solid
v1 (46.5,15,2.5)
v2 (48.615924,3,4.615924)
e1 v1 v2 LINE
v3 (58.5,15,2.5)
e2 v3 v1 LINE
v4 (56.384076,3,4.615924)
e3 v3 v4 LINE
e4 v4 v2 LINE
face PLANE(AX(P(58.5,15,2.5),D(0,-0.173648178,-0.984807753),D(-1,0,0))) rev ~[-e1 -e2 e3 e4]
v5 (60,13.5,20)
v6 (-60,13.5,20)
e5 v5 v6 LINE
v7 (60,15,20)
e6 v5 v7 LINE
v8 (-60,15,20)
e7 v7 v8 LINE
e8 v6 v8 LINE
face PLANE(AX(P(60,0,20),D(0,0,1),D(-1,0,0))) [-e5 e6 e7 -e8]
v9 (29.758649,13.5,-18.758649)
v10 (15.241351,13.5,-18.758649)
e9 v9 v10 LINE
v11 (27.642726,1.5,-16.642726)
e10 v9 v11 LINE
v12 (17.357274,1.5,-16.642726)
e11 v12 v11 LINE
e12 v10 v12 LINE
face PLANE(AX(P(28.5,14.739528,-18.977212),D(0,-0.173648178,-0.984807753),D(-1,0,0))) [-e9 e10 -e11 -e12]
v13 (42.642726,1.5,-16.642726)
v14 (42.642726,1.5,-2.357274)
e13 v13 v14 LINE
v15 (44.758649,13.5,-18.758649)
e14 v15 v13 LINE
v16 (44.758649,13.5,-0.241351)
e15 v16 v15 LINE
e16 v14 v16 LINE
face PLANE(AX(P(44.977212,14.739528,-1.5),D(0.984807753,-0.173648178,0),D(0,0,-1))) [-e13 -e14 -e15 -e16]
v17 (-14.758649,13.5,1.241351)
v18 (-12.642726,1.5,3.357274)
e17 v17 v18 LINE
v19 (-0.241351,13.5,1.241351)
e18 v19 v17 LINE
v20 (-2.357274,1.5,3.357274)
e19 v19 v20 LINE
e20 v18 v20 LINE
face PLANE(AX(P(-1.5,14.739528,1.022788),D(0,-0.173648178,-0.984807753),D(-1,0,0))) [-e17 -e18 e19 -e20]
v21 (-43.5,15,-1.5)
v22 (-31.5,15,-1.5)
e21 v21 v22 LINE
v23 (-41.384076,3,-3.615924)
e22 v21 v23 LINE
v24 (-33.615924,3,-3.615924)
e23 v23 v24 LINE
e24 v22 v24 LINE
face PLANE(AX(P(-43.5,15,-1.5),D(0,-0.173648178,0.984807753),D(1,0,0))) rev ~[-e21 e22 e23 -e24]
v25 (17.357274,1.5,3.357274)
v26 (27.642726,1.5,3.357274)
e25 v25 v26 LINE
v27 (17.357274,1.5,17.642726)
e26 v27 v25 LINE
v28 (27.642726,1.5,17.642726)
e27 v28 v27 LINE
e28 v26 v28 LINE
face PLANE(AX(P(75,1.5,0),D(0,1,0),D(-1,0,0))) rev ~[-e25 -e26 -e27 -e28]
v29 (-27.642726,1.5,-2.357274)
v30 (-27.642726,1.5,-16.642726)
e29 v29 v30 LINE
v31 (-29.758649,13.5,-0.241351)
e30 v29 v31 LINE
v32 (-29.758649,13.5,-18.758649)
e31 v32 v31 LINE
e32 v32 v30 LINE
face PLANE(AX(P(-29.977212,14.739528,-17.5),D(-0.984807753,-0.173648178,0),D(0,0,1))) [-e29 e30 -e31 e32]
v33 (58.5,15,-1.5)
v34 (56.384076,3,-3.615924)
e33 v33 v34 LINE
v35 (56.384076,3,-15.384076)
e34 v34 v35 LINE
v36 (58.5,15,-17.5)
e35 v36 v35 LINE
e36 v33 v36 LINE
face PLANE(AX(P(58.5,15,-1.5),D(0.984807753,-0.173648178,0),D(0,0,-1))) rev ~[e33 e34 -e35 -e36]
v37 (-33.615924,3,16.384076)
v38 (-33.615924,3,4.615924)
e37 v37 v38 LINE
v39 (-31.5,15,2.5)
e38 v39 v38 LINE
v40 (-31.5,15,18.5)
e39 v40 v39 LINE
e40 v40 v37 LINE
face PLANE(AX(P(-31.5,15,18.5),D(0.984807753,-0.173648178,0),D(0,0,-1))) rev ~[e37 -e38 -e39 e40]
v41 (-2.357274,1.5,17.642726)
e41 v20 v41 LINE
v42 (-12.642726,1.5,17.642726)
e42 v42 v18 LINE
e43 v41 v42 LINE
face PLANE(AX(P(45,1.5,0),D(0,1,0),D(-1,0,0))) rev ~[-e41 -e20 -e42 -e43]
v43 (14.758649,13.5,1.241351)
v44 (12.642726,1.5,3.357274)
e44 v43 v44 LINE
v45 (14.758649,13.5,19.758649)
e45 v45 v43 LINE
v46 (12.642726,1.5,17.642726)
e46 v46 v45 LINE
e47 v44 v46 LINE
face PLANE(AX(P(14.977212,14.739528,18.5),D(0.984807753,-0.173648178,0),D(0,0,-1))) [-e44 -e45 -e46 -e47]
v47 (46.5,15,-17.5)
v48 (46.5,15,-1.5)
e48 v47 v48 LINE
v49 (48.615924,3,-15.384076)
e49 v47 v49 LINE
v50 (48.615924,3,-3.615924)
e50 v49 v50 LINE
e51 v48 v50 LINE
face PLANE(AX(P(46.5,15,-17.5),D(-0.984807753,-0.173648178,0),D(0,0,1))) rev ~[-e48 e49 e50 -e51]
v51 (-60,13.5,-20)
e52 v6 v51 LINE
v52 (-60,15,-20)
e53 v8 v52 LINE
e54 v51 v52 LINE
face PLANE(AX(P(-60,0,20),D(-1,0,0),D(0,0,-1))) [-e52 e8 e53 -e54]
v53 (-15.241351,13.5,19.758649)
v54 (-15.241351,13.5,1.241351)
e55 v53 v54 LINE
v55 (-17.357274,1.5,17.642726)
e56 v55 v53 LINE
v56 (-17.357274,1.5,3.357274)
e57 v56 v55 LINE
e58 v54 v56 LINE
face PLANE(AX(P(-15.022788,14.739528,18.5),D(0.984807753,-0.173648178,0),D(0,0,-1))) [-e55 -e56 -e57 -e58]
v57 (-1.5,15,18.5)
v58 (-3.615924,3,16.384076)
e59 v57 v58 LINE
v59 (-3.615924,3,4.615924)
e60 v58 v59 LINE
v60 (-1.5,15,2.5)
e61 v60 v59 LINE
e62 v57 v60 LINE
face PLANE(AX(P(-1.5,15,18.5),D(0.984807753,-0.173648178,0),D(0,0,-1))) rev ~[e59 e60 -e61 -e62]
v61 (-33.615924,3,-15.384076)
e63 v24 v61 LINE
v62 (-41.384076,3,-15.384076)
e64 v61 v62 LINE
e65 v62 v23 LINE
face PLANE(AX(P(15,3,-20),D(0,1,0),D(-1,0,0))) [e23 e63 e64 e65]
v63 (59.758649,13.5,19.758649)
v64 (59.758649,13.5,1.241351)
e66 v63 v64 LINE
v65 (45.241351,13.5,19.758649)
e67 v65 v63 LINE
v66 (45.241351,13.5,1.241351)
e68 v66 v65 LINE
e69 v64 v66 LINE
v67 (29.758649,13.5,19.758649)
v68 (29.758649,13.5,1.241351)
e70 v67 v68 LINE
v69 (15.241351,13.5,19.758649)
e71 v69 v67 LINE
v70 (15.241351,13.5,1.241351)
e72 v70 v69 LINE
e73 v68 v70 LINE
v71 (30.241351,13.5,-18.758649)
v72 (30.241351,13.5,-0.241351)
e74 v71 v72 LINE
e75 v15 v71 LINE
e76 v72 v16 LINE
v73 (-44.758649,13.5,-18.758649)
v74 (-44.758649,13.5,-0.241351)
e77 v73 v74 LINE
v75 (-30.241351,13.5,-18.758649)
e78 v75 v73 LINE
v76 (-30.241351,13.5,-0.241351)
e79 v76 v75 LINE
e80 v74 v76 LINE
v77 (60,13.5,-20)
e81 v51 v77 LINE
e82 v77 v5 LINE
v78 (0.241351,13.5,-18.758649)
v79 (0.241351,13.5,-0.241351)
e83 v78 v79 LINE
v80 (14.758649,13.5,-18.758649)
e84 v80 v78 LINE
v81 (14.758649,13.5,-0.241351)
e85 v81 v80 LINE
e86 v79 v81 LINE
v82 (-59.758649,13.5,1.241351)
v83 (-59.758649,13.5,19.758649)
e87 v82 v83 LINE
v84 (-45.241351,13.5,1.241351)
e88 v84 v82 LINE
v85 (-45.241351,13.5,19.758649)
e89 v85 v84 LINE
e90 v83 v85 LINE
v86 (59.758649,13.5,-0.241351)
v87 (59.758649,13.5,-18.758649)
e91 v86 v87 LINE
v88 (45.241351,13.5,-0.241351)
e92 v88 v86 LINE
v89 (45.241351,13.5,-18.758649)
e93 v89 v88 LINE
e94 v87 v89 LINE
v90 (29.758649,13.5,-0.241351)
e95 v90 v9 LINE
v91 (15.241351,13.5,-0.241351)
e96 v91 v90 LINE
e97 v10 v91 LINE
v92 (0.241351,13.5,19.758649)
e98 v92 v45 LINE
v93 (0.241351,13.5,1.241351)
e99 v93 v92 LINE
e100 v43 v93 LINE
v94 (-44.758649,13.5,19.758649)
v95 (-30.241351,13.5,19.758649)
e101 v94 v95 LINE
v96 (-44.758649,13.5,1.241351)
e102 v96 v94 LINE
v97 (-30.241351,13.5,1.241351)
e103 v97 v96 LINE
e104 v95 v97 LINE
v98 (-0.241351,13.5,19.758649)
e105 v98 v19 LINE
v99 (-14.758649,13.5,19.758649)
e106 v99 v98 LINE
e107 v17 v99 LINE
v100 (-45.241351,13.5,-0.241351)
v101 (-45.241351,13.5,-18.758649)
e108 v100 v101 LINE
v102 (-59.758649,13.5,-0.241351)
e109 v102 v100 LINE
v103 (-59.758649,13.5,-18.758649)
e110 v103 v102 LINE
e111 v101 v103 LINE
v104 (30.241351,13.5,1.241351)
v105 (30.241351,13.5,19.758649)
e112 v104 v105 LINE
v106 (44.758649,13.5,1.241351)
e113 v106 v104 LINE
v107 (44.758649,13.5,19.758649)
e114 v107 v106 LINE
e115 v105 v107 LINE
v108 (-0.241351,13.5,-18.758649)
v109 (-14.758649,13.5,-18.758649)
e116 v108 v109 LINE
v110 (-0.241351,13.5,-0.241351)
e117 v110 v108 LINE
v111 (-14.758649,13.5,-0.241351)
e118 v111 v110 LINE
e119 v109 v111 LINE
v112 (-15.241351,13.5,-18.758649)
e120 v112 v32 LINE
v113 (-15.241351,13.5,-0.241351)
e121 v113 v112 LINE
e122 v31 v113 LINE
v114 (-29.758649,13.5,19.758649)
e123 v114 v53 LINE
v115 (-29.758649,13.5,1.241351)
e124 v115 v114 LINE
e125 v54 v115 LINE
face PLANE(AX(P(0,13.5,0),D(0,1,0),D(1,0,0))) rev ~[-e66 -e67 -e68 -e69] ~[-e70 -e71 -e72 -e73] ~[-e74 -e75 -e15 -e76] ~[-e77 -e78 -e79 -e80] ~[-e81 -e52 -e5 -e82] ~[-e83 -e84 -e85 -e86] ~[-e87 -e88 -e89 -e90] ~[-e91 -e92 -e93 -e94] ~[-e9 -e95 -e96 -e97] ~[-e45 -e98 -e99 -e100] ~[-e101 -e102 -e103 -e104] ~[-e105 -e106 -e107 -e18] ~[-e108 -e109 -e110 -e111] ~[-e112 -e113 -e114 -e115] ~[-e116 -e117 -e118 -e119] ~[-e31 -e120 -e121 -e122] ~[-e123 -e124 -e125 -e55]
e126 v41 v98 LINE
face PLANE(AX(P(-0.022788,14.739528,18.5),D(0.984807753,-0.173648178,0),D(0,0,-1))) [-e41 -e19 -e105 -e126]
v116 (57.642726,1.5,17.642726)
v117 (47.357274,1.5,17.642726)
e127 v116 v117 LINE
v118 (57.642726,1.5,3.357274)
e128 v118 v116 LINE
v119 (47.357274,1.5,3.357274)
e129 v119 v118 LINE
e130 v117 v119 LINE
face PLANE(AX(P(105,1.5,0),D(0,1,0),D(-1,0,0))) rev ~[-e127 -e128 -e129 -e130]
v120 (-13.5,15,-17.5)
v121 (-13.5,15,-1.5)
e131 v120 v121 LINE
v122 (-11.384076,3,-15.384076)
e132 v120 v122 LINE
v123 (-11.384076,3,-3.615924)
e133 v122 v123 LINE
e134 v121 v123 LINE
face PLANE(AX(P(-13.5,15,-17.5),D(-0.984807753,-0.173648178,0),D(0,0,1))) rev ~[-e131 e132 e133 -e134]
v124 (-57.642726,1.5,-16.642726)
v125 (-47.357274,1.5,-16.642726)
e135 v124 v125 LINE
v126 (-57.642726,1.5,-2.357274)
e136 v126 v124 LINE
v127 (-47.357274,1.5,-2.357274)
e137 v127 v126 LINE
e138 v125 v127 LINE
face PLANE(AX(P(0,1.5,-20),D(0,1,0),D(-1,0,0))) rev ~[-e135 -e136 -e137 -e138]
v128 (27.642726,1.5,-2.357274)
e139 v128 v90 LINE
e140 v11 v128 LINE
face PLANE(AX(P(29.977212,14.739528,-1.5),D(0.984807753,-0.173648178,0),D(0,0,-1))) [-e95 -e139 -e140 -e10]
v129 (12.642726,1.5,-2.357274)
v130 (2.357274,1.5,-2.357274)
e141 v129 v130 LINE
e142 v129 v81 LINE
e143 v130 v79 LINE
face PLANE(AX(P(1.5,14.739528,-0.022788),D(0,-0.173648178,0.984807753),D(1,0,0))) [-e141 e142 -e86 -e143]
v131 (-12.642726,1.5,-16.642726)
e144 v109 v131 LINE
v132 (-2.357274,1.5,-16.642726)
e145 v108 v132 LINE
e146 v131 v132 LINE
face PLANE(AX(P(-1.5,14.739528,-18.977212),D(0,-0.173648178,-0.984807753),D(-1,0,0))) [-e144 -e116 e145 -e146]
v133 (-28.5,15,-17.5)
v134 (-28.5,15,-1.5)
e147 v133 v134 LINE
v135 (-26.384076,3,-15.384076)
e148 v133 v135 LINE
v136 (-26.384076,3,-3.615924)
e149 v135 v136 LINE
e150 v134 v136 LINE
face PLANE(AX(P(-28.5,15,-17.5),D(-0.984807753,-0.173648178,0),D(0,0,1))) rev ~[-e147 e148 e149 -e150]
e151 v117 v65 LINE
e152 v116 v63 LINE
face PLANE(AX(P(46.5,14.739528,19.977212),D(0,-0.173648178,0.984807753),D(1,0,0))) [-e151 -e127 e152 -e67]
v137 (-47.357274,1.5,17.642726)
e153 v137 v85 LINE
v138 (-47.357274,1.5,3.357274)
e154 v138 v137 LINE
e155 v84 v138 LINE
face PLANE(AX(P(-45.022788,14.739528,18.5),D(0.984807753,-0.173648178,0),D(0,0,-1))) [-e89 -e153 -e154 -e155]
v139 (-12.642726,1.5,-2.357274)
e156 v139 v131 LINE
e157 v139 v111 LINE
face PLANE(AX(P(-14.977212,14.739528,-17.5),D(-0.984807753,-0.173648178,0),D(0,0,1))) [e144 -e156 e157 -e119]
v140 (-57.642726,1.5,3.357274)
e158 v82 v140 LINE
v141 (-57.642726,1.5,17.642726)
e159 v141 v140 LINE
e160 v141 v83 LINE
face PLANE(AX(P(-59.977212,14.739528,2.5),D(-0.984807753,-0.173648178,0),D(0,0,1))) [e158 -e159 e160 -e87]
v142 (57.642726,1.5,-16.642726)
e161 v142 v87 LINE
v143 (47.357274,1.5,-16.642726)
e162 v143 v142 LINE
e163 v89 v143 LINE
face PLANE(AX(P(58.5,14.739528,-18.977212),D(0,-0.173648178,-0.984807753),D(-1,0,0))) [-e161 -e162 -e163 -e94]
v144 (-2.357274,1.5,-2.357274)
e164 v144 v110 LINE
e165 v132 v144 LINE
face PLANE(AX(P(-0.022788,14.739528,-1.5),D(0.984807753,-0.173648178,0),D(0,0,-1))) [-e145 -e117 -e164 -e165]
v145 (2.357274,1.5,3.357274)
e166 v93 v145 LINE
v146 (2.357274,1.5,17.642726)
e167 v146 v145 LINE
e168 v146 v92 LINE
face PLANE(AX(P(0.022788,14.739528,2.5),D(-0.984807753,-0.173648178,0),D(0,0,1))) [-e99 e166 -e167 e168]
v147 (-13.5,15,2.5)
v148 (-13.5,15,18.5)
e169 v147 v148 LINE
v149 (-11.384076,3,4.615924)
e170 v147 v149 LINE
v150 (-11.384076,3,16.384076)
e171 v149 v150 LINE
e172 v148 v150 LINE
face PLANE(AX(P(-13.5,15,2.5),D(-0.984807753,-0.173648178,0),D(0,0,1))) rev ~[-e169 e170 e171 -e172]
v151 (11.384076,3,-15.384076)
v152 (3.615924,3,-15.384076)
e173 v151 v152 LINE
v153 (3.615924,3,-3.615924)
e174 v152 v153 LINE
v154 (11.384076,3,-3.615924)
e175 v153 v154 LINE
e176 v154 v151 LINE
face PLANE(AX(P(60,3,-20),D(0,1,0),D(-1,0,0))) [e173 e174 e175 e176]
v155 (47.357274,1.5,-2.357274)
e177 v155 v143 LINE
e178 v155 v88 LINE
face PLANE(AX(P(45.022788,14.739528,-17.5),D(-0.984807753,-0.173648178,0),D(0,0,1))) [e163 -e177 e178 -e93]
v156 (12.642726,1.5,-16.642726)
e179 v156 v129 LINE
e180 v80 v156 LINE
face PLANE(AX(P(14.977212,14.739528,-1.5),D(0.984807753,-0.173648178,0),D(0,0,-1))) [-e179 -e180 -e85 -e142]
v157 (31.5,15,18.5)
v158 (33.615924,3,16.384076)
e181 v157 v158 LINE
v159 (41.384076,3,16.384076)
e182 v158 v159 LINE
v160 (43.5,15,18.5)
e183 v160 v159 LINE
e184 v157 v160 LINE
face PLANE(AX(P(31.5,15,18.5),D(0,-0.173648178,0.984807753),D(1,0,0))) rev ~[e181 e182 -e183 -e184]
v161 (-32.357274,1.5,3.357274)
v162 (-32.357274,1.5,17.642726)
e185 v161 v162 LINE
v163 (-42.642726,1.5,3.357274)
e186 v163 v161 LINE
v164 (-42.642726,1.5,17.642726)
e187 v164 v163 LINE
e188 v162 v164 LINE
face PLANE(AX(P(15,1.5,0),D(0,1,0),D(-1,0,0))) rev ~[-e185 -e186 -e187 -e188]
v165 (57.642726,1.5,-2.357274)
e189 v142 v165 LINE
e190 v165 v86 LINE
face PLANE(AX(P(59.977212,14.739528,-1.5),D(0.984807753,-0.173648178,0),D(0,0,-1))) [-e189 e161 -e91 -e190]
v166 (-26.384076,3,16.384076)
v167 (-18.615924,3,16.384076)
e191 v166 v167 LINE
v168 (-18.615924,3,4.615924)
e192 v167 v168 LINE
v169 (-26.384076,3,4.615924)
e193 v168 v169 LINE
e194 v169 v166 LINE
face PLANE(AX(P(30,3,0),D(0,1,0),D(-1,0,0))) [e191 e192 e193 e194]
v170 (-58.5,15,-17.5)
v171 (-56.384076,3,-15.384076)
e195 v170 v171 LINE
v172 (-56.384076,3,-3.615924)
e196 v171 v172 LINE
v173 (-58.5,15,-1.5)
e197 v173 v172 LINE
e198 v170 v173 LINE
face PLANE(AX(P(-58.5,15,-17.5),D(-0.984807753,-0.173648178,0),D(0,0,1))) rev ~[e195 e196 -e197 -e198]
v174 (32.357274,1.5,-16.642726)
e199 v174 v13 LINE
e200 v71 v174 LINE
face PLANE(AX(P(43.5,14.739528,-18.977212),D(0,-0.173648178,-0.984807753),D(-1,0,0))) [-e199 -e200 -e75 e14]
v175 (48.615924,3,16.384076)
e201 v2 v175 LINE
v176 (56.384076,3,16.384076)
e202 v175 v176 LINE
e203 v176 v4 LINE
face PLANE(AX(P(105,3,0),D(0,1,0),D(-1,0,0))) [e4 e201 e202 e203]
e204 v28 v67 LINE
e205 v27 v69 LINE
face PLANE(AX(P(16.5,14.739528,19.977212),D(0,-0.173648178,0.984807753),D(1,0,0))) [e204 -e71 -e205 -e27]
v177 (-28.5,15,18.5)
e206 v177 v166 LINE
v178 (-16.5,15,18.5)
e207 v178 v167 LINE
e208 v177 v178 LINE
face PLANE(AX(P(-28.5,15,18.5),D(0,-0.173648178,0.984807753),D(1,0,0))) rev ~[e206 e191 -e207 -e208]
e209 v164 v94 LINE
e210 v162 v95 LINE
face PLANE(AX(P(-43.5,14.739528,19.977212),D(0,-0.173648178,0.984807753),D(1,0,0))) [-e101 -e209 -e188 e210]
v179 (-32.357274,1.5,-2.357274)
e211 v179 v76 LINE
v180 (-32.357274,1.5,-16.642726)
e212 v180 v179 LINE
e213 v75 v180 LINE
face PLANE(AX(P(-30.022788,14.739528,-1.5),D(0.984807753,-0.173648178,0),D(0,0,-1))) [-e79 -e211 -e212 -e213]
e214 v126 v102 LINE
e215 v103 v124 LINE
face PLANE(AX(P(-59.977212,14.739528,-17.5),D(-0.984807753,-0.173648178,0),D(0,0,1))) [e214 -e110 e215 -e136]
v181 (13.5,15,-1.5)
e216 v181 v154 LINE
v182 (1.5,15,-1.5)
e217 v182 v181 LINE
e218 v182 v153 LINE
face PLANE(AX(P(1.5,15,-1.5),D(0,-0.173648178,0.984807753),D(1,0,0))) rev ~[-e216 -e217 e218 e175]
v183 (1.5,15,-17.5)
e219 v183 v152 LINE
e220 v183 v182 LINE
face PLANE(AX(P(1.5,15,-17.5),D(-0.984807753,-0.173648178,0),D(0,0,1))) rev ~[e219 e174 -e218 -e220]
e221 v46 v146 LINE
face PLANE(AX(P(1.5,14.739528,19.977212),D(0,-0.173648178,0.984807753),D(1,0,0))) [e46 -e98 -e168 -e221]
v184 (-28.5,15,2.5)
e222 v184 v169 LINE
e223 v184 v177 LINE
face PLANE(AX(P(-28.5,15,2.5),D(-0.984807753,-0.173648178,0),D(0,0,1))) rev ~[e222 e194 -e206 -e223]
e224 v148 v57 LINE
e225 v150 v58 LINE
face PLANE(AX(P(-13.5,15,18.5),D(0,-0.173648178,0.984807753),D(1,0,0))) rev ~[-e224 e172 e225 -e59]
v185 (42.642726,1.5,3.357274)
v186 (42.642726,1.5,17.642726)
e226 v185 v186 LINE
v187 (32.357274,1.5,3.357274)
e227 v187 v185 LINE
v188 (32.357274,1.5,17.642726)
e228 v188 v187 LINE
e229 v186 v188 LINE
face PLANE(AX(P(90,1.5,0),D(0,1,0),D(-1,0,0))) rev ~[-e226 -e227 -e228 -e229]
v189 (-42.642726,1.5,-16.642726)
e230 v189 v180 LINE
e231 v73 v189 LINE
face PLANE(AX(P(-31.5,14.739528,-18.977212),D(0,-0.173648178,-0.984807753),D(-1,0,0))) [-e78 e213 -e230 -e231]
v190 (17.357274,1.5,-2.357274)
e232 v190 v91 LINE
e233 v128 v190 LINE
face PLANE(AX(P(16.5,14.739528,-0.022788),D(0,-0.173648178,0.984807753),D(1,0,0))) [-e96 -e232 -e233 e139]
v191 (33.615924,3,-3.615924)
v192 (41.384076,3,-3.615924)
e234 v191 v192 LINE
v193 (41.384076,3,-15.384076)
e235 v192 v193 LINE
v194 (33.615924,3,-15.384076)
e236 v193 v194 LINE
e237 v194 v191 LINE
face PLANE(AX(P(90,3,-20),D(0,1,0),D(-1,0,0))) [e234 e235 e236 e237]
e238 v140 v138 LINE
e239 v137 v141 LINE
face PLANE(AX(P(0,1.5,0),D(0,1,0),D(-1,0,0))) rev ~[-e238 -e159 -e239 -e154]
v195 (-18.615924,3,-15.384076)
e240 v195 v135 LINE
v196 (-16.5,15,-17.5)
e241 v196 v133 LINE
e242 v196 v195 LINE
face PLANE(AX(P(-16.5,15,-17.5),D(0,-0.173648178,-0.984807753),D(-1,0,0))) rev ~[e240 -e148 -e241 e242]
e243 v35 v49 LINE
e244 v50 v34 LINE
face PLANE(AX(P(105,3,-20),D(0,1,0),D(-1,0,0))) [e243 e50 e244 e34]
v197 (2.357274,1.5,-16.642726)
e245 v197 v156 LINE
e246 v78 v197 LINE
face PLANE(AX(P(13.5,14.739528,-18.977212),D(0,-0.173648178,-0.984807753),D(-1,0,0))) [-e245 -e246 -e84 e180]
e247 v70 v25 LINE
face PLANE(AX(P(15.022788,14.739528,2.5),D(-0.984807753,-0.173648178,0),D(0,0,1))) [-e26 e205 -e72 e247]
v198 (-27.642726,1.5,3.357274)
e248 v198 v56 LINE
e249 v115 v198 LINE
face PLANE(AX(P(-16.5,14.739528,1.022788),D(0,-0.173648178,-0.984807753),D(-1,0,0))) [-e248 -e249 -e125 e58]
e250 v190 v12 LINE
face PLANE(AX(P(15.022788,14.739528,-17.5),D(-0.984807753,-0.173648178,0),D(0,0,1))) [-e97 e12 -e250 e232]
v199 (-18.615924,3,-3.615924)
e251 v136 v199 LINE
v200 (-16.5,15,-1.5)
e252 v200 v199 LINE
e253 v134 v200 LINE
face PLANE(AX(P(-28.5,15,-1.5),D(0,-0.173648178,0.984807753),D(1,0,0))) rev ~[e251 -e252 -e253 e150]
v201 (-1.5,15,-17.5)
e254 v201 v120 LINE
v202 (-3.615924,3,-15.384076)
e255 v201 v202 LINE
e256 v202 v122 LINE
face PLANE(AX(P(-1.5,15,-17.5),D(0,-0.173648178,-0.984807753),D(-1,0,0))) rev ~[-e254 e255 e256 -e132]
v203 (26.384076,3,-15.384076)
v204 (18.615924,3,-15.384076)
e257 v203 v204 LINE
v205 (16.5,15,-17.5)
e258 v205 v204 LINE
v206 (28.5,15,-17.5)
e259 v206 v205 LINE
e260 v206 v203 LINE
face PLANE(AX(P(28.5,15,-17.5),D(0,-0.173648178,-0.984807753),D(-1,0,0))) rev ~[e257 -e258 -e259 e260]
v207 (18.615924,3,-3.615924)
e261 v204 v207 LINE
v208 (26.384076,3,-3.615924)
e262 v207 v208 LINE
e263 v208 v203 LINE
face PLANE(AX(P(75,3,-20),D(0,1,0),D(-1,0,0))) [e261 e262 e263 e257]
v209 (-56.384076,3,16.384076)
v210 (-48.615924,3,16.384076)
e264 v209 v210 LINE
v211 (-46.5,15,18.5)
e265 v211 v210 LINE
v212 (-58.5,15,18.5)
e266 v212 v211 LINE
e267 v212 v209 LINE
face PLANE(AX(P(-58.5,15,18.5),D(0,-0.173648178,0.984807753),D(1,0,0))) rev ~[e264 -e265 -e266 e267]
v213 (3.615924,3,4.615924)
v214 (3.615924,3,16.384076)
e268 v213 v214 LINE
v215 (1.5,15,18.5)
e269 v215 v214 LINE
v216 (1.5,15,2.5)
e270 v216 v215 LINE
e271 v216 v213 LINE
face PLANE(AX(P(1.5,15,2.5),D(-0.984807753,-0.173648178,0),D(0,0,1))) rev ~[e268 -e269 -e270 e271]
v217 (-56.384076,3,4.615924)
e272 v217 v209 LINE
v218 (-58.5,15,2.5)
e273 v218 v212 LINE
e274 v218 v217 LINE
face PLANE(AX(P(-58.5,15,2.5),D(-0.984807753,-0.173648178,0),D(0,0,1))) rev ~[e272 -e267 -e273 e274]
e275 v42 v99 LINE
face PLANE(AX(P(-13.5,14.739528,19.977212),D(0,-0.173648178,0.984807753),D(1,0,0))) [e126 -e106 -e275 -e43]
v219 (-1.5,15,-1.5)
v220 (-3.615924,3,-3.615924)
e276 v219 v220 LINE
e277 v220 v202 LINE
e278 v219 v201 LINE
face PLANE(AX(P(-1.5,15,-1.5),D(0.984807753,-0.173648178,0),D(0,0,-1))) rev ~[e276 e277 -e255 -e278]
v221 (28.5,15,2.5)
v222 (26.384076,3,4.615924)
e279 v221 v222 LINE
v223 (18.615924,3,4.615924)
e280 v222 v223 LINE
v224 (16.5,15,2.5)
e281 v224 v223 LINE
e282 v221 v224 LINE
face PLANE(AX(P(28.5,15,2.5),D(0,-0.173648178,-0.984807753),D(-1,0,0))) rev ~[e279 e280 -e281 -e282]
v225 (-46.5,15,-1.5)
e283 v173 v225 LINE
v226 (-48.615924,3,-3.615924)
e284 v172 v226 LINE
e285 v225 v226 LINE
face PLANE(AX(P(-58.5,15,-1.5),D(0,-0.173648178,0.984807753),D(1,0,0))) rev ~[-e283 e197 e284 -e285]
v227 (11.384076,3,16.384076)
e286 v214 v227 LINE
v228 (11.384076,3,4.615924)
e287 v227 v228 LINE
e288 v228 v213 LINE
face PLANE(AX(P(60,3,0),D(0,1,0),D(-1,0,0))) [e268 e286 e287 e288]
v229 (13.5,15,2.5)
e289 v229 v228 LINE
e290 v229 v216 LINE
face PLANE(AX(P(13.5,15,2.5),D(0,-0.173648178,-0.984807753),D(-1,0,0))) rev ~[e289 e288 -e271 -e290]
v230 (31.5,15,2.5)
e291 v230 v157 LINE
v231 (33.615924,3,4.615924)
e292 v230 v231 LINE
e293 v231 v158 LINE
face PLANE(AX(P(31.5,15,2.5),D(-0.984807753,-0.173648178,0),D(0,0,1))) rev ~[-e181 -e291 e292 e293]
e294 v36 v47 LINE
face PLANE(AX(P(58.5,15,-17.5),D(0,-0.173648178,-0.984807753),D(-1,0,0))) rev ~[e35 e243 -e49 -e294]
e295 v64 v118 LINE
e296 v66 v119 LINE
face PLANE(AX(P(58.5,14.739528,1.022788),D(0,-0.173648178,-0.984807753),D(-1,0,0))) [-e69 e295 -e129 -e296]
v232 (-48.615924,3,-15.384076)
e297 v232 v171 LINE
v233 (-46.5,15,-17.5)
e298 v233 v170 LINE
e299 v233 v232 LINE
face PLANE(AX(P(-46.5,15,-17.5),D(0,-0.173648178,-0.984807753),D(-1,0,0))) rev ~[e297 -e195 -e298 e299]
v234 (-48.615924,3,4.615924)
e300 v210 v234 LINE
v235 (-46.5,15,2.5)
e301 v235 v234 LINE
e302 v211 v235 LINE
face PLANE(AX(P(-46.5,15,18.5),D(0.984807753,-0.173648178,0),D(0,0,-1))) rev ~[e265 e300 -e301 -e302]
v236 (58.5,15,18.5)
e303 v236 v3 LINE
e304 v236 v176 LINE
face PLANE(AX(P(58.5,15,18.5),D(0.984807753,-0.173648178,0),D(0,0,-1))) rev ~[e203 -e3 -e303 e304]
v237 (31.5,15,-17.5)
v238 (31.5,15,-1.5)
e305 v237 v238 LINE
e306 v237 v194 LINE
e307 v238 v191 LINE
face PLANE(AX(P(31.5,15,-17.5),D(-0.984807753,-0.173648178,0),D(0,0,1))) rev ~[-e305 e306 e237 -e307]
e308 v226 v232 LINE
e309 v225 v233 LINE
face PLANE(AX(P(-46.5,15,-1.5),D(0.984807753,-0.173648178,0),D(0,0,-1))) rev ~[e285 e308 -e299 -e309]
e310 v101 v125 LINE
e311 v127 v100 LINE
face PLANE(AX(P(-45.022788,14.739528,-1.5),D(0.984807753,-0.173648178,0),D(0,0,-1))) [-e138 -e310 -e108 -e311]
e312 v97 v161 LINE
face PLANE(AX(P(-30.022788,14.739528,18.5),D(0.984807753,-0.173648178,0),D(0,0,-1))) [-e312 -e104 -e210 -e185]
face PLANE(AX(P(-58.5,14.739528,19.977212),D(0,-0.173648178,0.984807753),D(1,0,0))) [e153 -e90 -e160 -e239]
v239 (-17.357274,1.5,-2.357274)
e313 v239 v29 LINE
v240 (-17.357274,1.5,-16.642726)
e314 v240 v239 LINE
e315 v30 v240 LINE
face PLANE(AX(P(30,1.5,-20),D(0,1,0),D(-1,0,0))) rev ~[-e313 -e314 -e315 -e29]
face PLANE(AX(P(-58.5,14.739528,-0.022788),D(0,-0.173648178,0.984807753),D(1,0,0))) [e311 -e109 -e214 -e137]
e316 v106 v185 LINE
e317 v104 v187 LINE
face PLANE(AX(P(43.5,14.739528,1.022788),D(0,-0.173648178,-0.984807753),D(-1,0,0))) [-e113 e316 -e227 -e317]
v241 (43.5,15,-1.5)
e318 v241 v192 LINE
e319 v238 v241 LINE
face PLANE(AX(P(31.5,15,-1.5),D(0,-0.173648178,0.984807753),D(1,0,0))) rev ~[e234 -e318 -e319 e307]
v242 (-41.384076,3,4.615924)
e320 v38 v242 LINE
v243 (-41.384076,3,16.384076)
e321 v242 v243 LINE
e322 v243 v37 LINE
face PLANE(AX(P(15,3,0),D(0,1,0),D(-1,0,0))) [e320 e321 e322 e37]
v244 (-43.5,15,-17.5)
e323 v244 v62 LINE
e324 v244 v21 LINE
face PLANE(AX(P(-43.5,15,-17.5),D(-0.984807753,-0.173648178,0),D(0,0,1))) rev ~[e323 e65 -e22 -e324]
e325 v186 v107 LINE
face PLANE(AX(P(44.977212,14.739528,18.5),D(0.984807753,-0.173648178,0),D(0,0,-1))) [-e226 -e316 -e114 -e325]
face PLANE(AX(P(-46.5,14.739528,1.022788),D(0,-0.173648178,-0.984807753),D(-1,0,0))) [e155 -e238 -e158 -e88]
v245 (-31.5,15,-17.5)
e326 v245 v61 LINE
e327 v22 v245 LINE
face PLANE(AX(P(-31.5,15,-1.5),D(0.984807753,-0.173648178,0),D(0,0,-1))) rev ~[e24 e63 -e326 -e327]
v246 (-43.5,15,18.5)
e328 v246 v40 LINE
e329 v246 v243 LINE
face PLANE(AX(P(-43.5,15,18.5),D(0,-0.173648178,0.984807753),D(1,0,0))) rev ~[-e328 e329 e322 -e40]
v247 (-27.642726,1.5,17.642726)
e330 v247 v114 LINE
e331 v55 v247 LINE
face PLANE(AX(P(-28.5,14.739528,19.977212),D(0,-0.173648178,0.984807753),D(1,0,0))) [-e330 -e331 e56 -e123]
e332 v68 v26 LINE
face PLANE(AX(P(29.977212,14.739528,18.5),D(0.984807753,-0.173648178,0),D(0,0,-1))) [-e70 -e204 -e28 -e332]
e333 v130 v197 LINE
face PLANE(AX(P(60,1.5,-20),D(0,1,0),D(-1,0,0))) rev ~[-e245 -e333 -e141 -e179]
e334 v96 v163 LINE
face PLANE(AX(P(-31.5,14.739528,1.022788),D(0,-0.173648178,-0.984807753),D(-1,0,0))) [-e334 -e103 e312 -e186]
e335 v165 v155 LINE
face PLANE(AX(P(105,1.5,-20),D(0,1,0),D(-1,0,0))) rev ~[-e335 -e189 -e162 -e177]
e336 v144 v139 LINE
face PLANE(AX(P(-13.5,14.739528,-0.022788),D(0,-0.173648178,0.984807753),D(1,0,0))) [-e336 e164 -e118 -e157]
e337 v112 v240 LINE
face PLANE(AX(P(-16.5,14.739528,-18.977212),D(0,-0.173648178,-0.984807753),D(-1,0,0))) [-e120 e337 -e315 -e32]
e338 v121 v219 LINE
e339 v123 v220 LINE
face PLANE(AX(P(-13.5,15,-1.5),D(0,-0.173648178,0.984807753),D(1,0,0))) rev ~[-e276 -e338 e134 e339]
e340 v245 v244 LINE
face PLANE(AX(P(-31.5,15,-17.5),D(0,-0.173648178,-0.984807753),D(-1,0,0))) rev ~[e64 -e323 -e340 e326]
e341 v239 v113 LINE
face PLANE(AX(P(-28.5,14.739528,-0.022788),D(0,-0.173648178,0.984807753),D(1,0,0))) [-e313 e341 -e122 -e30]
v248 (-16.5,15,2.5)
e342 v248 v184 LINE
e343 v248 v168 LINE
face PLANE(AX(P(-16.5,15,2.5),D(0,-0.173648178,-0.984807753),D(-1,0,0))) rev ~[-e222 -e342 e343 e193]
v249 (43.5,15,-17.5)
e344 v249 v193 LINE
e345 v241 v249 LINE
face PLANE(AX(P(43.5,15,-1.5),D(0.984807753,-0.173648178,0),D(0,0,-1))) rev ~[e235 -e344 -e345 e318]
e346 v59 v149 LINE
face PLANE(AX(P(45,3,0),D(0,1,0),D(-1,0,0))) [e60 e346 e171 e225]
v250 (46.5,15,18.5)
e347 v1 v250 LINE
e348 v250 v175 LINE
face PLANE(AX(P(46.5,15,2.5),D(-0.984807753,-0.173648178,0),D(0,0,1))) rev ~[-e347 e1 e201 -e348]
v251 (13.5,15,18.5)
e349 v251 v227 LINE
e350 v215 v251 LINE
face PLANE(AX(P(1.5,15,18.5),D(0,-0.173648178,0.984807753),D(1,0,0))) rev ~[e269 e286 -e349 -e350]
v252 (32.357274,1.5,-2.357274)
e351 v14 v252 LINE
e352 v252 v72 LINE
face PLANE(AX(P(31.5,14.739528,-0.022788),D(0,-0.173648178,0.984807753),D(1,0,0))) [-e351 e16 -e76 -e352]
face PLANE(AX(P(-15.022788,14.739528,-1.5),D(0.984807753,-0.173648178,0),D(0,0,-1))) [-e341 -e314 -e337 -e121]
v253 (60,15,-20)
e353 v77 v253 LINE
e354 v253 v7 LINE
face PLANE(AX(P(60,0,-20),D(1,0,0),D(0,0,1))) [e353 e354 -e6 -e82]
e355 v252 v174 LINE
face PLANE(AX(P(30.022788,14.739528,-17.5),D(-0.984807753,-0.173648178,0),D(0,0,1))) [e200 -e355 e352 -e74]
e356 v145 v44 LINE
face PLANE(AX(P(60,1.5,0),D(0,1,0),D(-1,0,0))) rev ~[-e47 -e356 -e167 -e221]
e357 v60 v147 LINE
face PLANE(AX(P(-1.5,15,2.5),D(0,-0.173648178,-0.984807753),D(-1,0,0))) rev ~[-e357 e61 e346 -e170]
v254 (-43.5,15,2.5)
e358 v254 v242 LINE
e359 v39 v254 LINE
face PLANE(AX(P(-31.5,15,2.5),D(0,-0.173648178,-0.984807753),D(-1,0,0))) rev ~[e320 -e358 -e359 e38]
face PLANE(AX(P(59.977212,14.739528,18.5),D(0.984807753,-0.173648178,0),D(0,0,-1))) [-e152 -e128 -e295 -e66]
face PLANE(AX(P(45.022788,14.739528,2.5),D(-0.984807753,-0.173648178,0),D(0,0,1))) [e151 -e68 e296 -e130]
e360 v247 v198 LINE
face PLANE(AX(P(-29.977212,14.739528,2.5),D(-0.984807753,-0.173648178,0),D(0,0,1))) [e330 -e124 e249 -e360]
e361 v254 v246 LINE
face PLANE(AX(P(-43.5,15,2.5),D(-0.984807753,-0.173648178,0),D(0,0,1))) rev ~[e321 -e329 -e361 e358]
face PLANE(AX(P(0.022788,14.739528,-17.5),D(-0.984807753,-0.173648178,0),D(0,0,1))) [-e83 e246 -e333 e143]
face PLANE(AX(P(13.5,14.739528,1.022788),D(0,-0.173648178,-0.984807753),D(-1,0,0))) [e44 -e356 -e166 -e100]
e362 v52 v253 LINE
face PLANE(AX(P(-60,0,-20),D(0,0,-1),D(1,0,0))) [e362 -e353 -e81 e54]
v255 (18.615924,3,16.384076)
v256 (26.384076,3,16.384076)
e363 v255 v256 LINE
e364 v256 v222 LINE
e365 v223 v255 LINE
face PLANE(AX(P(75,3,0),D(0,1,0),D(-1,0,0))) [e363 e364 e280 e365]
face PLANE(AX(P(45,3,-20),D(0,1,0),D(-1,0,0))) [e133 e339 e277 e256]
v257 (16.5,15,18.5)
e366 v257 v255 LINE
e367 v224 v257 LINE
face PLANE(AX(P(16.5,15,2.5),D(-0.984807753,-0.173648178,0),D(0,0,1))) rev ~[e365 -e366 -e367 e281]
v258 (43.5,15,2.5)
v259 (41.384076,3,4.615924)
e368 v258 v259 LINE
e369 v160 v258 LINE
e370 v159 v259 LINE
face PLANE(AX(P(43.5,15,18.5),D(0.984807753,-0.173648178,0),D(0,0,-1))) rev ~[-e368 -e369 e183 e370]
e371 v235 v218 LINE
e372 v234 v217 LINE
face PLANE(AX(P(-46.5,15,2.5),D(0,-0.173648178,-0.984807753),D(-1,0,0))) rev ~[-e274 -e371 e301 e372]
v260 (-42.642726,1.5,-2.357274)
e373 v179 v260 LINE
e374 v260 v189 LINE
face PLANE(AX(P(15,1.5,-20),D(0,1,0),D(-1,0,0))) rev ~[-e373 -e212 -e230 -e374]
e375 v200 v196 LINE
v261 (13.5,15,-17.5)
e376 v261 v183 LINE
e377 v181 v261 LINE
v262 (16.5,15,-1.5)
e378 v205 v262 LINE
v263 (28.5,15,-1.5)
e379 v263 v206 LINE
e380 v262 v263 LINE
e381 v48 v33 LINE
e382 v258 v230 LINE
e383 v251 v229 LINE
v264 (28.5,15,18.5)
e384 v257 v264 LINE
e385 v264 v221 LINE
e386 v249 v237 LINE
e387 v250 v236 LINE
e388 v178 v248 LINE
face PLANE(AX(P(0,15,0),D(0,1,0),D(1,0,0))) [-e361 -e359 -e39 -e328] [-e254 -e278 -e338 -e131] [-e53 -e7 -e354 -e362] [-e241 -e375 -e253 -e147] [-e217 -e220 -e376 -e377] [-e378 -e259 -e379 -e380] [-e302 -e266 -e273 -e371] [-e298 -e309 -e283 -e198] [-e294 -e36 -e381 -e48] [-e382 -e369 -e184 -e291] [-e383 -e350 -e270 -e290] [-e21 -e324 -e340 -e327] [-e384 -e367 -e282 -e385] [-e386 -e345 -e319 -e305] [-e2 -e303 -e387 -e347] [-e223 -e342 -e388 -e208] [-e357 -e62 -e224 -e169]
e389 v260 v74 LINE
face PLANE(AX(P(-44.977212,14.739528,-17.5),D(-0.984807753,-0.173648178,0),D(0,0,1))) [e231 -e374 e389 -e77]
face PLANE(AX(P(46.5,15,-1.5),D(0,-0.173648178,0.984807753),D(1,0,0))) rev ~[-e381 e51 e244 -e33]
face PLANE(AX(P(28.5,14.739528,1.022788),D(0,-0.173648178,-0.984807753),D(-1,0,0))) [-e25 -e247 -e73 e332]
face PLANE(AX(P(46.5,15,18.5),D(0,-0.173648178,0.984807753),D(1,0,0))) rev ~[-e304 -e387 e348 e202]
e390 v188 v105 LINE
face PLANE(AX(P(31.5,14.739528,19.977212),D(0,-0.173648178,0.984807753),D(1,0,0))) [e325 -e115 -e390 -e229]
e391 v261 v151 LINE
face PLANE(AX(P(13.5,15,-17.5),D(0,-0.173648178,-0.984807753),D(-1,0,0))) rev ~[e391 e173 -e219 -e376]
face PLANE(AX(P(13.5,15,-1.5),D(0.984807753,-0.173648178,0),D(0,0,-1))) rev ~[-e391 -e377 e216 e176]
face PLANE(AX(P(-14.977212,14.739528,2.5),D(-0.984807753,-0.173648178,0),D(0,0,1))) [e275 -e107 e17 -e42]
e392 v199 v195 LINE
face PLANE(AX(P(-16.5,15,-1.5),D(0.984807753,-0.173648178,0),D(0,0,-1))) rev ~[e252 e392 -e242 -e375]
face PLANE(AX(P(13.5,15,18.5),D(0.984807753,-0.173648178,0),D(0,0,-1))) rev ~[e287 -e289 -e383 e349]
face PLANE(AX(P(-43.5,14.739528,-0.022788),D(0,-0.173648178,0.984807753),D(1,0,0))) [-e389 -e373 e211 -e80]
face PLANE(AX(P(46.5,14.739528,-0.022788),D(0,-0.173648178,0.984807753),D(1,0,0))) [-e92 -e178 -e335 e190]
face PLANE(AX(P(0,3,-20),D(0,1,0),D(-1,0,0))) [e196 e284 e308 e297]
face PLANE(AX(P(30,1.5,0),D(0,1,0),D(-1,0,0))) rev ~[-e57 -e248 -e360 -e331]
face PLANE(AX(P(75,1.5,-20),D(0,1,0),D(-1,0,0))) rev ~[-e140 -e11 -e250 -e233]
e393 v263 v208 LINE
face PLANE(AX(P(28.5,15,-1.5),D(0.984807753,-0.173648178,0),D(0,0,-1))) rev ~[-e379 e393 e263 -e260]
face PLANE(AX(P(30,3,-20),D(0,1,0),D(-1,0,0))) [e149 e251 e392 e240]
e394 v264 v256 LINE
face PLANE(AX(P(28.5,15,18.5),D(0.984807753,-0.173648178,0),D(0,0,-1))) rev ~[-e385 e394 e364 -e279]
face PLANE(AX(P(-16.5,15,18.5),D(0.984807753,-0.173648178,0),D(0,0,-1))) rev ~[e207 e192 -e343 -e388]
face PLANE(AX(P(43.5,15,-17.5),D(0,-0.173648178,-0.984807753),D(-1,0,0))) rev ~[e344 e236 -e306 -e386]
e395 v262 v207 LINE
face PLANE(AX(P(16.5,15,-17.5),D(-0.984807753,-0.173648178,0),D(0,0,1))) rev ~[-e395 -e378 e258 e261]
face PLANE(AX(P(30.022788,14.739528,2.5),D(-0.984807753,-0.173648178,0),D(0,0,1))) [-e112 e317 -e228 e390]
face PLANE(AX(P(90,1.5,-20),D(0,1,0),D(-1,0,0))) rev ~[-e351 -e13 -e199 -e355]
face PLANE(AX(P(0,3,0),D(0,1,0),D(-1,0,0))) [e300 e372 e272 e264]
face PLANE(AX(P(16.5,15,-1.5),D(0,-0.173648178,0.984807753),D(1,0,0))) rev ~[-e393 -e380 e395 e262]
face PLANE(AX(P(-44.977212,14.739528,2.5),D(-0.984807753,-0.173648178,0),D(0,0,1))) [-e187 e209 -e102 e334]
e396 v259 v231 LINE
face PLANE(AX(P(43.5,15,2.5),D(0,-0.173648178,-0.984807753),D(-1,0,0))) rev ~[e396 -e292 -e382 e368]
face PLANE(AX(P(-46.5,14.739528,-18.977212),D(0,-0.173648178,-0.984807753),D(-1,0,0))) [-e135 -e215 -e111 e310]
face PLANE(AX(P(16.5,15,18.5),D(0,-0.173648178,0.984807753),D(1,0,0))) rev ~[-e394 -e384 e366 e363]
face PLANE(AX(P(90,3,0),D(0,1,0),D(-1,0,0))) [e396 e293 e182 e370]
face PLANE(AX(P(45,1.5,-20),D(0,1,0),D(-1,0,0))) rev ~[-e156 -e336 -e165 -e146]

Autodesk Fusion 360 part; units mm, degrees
sketch "Sketch1" plane through (0, 0, 0) normal (0, 1, 0) x (1, 0, 0)
  line L0 (60, -20) -> (-60, -20)
  line L1 (-60, -20) -> (-60, 20)
  line L2 (-60, 20) -> (60, 20)
  line L3 (60, 20) -> (60, -20)
  line L4 (60, -20) -> (-60, 20) construction
  line L5 (-60, -20) -> (60, 20) construction
  dimension "d1" = 120
  dimension "d2" = 40
extrude "Extrude1" add sketch "Sketch1" along normal blind 15
sketch "Sketch2" plane through (0, 15, 0) normal (0, 1, 0) x (-1, 0, 0)
  line L0 (-60, -20) -> (60, -20)
  line L1 (60, -20) -> (60, 20)
  line L2 (60, 20) -> (-60, 20)
  line L3 (-60, 20) -> (-60, -20)
  line L4 (58.5, 18.5) -> (46.5, 18.5)
  line L5 (46.5, 18.5) -> (46.5, 2.5)
  line L6 (46.5, 2.5) -> (58.5, 2.5)
  line L7 (58.5, 2.5) -> (58.5, 18.5)
  dimension "d5" = 12
  dimension "d6" = 16
  dimension "d7" = 1.5
  dimension "d8" = 1.5
extrude "1st ice cube" cut sketch "Sketch2" against normal blind 12 draft -10 contours L4 L5 L6 L7
pattern_linear "R-Pattern1" count 8 spacing 15 along (1, 0, 0) count 2 spacing 20 along (0, 0, -1) of "1st ice cube"
shell "Shell2" thickness 1.5 removed faces 5 at (-60, 10, 6.6667) at (-20, 5, -20) at (20, 0, 6.6667) at (60, 10, -6.6667) at (20, 5, 20)
